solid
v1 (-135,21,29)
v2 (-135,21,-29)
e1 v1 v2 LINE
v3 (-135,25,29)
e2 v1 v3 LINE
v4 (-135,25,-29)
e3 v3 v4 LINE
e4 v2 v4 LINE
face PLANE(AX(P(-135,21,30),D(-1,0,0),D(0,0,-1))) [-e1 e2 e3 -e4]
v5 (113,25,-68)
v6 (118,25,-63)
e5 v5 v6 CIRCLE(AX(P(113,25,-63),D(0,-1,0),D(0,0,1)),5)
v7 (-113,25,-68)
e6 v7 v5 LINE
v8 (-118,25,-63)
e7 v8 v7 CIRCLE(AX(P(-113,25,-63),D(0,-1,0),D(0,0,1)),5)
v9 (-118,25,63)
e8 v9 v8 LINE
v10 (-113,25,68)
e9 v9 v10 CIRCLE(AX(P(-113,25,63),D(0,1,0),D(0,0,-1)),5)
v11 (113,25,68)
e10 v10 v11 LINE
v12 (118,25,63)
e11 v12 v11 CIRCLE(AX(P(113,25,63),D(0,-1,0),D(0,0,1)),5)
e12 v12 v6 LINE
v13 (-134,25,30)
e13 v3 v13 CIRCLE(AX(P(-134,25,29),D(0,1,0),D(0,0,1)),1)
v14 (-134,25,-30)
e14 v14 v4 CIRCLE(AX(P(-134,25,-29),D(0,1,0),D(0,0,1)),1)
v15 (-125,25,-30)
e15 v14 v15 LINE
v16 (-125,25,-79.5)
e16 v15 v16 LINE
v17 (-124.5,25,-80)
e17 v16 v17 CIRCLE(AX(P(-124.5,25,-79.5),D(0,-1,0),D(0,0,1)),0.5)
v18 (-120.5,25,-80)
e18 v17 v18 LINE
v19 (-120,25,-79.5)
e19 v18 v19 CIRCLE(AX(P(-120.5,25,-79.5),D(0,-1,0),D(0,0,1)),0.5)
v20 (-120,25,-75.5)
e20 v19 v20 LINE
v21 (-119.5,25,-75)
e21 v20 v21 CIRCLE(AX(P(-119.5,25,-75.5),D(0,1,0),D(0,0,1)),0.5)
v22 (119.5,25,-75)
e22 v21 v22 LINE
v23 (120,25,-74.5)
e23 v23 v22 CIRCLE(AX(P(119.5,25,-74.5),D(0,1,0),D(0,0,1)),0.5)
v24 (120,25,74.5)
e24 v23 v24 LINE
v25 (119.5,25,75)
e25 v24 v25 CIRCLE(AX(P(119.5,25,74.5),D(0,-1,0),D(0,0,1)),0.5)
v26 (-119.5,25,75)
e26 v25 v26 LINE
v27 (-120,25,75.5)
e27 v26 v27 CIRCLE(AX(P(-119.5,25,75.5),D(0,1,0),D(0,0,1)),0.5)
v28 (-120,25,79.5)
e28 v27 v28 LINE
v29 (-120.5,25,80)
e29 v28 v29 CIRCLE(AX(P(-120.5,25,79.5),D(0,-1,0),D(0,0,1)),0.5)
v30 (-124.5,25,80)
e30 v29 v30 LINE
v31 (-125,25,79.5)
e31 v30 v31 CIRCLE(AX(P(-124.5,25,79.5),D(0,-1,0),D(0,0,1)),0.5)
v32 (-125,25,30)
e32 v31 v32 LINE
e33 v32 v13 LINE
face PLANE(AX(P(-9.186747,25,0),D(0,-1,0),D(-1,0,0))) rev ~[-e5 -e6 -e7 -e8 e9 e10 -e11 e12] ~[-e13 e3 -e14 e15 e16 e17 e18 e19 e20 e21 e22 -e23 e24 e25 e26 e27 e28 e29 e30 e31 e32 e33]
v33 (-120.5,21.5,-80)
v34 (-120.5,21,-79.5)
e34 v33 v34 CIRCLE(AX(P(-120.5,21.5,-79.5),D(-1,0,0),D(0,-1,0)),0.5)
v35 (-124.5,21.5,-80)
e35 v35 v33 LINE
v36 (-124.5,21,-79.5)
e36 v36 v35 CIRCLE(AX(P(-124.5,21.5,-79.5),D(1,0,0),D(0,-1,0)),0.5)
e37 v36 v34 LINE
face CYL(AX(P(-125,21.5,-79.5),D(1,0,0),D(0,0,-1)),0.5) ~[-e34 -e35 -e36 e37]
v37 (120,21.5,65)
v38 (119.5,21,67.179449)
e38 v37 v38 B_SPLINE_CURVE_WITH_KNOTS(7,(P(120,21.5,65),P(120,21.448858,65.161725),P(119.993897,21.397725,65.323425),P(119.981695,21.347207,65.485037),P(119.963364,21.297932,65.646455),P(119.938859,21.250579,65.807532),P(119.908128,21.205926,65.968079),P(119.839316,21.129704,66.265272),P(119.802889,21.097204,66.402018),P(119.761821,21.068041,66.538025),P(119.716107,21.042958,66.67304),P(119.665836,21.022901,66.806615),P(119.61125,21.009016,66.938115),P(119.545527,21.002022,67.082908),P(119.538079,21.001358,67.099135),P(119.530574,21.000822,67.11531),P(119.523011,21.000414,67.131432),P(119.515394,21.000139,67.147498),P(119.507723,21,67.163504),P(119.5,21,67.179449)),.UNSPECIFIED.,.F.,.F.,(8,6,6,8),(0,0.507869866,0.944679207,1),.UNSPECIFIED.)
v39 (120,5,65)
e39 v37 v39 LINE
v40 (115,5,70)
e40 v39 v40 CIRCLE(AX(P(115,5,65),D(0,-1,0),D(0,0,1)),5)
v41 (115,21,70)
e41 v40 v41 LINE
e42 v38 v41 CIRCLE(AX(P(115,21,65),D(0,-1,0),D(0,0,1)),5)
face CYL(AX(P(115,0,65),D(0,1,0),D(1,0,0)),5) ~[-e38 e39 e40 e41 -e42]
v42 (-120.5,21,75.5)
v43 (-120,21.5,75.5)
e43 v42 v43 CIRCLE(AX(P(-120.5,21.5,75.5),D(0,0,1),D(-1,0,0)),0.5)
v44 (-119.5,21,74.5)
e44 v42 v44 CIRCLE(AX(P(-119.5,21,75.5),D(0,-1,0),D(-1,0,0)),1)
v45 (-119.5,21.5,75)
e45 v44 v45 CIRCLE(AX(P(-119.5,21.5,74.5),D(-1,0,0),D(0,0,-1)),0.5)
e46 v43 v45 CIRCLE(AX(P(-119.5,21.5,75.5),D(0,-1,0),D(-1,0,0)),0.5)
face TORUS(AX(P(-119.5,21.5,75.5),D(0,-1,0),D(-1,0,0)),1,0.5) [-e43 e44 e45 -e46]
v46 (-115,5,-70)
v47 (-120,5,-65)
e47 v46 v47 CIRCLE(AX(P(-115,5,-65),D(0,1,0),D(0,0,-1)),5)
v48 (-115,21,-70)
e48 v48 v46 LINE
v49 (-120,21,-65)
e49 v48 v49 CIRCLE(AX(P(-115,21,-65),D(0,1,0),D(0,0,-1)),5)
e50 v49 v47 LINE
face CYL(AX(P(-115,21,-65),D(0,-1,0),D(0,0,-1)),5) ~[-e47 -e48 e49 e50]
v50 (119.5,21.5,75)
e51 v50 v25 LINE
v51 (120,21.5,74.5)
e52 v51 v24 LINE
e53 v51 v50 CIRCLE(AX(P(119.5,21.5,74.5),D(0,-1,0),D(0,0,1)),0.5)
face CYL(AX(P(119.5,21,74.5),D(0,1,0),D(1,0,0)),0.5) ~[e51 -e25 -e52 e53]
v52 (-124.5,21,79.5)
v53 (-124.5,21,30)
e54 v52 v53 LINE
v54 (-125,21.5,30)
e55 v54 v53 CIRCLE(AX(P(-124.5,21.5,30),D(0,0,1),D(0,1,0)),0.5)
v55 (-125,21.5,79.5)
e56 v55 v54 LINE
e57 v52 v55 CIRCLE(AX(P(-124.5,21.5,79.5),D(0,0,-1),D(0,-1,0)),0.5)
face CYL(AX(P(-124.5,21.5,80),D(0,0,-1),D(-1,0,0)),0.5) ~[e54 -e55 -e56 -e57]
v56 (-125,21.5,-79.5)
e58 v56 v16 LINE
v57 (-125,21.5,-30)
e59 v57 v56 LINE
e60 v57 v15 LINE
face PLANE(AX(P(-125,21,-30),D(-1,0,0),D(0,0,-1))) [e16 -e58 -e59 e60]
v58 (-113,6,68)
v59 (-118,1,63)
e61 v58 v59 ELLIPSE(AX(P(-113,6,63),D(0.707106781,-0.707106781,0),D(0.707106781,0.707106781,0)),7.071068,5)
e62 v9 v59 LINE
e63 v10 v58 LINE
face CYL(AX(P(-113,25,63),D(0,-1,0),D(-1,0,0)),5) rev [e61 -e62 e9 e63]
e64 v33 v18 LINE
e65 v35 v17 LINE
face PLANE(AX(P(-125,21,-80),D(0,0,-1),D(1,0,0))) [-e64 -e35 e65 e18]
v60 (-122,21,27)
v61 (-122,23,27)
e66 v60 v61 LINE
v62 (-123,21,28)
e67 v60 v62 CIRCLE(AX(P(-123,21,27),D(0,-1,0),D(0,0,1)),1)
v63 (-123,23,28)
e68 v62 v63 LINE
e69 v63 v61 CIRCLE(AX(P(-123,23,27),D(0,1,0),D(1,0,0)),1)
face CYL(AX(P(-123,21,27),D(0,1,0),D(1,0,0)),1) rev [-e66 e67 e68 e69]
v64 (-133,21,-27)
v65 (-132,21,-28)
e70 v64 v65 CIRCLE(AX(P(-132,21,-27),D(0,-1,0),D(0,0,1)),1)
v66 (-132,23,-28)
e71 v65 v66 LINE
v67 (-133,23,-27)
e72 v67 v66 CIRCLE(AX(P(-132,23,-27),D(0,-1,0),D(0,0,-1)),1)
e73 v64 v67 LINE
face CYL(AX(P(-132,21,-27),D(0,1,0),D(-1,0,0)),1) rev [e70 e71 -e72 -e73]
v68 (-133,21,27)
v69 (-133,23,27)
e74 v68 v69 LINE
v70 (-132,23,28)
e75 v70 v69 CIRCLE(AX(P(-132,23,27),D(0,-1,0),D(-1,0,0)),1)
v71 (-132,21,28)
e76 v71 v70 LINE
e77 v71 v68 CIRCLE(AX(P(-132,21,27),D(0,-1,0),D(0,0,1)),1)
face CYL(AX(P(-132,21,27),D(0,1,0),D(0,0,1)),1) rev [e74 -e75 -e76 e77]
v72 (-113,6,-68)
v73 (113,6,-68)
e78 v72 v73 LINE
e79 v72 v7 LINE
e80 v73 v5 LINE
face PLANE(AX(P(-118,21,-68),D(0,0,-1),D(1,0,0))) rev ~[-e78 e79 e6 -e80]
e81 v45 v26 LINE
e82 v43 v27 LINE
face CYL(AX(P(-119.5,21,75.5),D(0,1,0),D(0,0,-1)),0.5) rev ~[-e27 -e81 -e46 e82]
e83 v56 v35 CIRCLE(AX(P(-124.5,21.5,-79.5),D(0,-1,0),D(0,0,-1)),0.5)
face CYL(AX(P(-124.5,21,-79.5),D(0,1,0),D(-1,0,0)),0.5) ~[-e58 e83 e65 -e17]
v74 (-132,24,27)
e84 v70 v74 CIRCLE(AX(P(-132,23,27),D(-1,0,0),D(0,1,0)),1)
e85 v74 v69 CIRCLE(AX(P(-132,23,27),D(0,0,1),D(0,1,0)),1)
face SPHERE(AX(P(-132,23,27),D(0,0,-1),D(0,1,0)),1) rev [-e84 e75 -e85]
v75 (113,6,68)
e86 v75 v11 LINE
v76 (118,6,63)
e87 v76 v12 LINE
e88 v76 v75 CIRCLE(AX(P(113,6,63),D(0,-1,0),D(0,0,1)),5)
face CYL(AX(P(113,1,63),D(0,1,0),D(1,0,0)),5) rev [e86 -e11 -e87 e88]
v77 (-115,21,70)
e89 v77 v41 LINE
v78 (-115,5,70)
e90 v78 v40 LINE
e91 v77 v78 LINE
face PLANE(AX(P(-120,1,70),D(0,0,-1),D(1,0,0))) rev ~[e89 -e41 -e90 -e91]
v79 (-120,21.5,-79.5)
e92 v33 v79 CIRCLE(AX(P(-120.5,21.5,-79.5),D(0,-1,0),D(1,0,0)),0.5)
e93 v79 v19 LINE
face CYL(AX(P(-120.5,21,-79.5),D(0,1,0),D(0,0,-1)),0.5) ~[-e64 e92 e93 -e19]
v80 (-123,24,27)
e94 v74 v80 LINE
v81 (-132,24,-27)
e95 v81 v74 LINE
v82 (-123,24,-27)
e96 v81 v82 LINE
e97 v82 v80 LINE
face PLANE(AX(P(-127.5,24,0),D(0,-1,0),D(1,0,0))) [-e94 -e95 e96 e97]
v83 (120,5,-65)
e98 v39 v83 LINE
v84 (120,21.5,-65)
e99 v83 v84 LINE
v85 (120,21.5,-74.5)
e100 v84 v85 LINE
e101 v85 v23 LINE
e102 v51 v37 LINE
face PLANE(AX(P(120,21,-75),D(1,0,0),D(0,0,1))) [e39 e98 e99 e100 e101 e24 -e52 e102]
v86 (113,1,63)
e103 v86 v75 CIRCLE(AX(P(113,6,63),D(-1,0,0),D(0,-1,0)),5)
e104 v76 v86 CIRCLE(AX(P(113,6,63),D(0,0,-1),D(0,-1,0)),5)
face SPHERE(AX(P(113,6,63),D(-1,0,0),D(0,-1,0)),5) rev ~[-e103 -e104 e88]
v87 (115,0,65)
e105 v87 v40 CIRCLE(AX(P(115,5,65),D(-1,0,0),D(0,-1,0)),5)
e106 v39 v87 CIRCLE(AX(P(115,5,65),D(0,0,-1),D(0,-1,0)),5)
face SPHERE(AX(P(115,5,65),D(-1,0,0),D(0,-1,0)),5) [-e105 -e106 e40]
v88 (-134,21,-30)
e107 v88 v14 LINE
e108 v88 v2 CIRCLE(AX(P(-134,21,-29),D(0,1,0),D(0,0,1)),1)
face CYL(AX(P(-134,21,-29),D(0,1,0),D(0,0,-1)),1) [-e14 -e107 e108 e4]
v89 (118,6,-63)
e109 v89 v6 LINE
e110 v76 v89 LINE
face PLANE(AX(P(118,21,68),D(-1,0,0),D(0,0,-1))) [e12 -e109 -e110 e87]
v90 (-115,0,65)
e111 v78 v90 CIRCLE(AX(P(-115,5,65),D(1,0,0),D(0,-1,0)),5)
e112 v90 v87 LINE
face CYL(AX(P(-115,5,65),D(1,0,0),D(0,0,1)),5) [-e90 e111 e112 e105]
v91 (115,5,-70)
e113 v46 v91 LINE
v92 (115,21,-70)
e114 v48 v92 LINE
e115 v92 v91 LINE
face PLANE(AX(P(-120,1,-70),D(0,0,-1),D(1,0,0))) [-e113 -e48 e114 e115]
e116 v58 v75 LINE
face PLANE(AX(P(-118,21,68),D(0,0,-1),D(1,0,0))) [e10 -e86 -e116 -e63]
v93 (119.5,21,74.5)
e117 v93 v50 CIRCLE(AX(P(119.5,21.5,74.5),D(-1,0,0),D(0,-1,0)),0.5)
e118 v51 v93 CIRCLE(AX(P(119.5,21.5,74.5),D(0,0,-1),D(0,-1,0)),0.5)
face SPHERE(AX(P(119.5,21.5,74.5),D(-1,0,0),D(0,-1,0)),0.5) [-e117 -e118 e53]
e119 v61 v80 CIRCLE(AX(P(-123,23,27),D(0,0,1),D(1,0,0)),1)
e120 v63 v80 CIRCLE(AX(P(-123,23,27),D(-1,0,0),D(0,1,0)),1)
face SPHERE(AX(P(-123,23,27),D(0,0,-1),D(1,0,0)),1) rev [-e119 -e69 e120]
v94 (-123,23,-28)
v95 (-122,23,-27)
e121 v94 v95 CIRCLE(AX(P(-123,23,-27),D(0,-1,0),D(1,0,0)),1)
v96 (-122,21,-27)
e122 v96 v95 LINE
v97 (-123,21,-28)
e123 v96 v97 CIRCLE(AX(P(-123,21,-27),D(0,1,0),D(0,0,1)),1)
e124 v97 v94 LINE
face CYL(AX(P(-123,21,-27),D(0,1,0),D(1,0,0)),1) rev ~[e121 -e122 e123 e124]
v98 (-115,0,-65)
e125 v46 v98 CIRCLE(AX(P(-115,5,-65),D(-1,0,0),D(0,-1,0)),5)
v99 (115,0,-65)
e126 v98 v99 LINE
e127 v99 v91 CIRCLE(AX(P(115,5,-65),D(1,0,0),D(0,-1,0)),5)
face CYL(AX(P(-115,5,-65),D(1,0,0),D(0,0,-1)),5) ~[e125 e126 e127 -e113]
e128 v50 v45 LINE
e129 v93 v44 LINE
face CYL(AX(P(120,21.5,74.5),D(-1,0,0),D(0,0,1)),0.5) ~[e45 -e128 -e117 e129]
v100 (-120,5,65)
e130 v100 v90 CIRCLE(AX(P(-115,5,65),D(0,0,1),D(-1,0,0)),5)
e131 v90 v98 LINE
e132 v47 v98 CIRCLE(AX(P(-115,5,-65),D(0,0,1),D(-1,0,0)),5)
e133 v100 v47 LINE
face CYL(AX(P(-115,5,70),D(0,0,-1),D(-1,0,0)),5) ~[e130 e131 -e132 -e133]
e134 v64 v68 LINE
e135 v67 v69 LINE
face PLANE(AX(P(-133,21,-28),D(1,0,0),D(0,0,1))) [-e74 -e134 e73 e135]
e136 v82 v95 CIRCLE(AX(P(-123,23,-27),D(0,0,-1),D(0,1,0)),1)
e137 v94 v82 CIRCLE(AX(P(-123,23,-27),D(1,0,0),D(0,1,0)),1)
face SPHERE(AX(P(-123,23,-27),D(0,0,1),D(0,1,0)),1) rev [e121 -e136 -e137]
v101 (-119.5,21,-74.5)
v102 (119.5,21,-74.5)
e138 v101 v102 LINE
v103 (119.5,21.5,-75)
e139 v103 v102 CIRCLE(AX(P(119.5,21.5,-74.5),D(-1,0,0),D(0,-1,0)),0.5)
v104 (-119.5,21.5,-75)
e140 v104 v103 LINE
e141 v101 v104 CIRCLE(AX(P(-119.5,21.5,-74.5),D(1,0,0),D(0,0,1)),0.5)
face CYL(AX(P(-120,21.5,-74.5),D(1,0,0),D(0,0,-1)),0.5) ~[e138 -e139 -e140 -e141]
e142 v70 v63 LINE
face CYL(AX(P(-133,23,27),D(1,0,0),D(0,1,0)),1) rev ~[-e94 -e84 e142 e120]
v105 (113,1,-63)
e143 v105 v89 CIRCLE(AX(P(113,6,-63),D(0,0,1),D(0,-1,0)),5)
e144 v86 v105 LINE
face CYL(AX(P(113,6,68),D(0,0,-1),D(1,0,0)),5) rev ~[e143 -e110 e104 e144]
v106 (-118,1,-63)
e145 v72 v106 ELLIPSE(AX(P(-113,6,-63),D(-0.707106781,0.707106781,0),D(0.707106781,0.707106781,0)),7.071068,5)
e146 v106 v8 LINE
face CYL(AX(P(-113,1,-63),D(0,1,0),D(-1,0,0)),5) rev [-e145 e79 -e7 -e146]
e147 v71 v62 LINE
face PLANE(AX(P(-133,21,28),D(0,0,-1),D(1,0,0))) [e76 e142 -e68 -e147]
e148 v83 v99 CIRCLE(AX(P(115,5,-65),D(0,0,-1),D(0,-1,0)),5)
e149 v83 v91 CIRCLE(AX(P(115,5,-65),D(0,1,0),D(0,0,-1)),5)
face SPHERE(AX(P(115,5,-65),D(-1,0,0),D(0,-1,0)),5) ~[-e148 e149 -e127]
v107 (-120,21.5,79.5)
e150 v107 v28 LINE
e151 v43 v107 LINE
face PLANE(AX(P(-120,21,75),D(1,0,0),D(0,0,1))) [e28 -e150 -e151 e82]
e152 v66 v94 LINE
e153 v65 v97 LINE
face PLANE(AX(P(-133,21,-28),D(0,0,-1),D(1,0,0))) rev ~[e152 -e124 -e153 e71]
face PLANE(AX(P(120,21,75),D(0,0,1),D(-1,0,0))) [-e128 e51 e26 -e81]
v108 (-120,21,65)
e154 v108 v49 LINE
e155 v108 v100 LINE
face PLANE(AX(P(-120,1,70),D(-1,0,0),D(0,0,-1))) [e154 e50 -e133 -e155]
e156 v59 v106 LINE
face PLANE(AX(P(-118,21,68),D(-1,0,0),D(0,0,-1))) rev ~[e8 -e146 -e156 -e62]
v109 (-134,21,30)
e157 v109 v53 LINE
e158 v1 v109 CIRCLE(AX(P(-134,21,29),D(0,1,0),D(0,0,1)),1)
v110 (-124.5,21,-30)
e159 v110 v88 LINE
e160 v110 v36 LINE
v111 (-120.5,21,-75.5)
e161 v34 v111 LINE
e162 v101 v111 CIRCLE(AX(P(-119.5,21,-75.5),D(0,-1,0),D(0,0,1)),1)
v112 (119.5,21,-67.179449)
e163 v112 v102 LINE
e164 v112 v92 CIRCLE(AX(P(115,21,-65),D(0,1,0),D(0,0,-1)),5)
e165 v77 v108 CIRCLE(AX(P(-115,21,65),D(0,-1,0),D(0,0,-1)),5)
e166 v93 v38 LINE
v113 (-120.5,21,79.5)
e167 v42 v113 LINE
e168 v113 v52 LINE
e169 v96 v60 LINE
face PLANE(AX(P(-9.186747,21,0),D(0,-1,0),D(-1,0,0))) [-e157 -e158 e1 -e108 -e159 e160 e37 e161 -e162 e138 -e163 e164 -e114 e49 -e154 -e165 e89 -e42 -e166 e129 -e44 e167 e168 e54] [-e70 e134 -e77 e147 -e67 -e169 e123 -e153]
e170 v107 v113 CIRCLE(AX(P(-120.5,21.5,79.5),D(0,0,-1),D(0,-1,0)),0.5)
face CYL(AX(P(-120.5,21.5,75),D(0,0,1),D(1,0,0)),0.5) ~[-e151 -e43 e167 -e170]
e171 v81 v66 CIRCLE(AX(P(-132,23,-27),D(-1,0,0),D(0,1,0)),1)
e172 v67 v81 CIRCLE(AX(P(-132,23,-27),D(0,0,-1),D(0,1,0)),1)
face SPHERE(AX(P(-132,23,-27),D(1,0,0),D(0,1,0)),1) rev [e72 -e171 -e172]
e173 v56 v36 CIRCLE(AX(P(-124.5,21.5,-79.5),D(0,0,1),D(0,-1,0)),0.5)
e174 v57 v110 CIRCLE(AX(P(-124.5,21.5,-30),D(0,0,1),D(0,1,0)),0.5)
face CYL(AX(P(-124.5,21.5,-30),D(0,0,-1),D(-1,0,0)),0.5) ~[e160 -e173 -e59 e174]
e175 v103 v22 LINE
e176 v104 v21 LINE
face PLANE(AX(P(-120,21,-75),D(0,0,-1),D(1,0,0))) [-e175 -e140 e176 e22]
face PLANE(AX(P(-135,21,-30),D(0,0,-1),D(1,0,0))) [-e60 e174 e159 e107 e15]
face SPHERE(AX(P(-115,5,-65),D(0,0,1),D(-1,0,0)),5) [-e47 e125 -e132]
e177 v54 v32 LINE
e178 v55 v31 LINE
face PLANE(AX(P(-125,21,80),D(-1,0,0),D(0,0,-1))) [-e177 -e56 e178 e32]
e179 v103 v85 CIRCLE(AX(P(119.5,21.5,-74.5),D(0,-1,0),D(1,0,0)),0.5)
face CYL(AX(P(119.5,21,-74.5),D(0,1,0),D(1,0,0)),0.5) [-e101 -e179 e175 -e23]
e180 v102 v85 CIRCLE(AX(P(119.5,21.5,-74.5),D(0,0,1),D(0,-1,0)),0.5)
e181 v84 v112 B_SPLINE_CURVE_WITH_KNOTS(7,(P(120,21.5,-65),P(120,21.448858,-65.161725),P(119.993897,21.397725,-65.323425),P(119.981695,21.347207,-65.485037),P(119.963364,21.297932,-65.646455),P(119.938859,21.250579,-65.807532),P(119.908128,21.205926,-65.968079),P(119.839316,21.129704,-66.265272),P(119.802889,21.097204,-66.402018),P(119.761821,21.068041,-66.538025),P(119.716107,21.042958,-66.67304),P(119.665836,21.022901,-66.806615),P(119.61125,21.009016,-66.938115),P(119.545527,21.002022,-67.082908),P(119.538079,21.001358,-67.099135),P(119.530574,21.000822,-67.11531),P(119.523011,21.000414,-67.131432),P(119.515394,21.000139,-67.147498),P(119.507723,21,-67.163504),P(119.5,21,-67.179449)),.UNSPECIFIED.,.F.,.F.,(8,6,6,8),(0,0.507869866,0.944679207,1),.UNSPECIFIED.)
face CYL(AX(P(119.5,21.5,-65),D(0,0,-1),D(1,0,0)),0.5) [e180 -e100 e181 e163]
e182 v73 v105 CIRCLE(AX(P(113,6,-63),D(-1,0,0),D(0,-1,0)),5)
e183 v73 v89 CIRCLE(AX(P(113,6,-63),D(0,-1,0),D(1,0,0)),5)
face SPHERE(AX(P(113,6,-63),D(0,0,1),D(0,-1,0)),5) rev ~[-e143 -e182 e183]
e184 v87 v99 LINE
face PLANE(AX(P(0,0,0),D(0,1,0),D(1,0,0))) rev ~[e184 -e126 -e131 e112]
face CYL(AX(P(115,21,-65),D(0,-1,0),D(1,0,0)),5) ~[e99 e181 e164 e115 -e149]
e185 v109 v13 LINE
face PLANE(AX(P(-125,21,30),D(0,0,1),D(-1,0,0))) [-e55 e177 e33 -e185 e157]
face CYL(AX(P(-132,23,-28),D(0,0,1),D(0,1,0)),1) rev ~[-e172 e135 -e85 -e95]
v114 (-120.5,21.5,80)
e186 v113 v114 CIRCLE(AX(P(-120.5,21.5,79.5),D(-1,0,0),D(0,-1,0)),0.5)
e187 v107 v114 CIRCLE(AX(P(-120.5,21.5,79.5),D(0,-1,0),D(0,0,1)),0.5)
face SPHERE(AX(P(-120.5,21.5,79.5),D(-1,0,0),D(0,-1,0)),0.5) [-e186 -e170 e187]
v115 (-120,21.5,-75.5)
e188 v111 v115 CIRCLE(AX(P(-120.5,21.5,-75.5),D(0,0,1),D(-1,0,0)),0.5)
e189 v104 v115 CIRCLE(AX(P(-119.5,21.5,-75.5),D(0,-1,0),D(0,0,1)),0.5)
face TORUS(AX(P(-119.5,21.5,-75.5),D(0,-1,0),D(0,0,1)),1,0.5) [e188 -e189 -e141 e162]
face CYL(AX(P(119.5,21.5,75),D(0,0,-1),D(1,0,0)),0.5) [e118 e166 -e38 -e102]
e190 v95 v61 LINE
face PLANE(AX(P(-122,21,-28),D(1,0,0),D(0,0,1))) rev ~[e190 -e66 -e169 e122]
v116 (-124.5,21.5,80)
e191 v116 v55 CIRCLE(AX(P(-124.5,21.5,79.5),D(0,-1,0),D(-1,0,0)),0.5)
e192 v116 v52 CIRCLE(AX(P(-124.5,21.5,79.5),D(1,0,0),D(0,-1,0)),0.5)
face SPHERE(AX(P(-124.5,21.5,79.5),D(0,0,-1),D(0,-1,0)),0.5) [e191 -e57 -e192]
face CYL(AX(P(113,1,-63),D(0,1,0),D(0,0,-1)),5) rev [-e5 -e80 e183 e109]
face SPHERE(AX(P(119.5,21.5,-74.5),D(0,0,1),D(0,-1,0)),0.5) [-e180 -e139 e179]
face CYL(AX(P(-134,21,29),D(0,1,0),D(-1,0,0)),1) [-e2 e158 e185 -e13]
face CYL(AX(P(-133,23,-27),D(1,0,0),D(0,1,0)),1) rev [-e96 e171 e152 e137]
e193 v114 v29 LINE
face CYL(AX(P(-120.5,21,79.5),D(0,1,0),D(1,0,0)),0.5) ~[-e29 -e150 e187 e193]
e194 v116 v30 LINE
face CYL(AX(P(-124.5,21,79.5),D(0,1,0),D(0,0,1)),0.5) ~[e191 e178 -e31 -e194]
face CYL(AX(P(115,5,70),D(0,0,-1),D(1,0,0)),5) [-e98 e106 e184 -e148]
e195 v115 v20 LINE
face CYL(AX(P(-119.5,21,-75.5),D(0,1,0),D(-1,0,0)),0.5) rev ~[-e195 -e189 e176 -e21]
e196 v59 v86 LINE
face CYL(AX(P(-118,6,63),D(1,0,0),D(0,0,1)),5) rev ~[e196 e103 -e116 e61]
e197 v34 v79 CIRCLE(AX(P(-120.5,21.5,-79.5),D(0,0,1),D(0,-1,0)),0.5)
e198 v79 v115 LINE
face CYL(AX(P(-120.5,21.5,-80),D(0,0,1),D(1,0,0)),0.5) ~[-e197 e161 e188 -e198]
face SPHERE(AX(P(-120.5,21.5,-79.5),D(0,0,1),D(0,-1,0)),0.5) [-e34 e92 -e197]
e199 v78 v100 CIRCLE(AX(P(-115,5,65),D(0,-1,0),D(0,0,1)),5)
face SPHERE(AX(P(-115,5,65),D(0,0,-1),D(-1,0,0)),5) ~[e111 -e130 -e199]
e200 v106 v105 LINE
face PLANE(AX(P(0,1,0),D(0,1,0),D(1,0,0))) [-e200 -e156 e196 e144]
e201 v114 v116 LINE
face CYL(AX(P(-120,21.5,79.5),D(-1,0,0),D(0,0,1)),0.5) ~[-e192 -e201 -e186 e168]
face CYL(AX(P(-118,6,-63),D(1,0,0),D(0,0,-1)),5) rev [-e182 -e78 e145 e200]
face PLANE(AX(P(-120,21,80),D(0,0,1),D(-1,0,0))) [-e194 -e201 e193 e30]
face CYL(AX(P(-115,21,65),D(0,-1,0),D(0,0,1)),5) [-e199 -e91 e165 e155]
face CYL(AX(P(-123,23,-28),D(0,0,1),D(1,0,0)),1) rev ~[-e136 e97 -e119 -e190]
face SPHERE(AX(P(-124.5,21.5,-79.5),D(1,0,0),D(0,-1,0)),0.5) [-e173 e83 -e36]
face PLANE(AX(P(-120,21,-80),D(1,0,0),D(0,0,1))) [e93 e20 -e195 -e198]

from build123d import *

# Parameters (mm, degrees)
SKETCH2_W           = 240
SKETCH2_H           = 140
BOSS_EXTRUDE1_DEPTH = 1
SKETCH3_W           = 240
SKETCH3_H           = 140
SKETCH3_W_2         = 236
SKETCH3_H_2         = 136
BOSS_EXTRUDE2_DEPTH = 20
SKETCH4_W           = 236
SKETCH4_H           = 136
BOSS_EXTRUDE3_DEPTH = 4
SKETCH6_W           = 11
SKETCH6_H           = 56
CUT_EXTRUDE2_DEPTH  = 3
FILLET1_R           = 5
FILLET2_R           = 5
FILLET3_R           = 0.5
FILLET4_R           = 1


with BuildPart() as part:
    # Sketch2 → Boss-Extrude1 (new body)
    with BuildSketch(Plane(origin=(0, 0, 0), x_dir=(1, 0, 0), z_dir=(0, 1, 0))):
        Rectangle(SKETCH2_W, SKETCH2_H)
    extrude(amount=BOSS_EXTRUDE1_DEPTH)

    # Sketch3 → Boss-Extrude2 (add)
    with BuildSketch(Plane(origin=(0, 1, 0), x_dir=(1, 0, 0), z_dir=(0, 1, 0))):
        Rectangle(SKETCH3_W, SKETCH3_H)
        Rectangle(SKETCH3_W_2, SKETCH3_H_2, mode=Mode.SUBTRACT)
    extrude(amount=BOSS_EXTRUDE2_DEPTH)

    # Sketch4 → Boss-Extrude3 (add)
    with BuildSketch(Plane(origin=(0, 21, 0), x_dir=(1, 0, 0), z_dir=(0, 1, 0))):
        Polygon((-125, 80), (-120, 80), (-120, 75), (120, 75), (120, -75), (-120, -75), (-120, -80), (-125, -80), (-125, -30), (-135, -30), (-135, 30), (-125, 30), align=None)
        Rectangle(SKETCH4_W, SKETCH4_H, mode=Mode.SUBTRACT)
    extrude(amount=BOSS_EXTRUDE3_DEPTH)

    # Sketch6 → Cut-Extrude2 (cut)
    with BuildSketch(Plane.XZ.offset(-21)):
        with Locations((-127.5, 0)):
            Rectangle(SKETCH6_W, SKETCH6_H)
    extrude(amount=-CUT_EXTRUDE2_DEPTH, mode=Mode.SUBTRACT)

    # Fillet1
    fillet1_edges = [part.edges().sort_by_distance(p)[0] for p in [
        (0, 1, 68),
        (118, 1, 0),
        (0, 1, -68),
        (-118, 13, 68),
        (118, 13, 68),
        (118, 13, -68),
        (-118, 13, -68),
        (-120, 0, 0),
    ]]
    fillet(fillet1_edges, radius=FILLET1_R)

    # Fillet2
    fillet2_edges = [part.edges().sort_by_distance(p)[0] for p in [
        (2.5, 0, 70),
        (-118.535533906, 1.464466094, 70),
        (-118.535533906, 1.464466094, -70),
        (2.5, 0, -70),
        (120, 0, 0),
        (120, 10.5, 70),
        (-120, 13, 70),
        (-120, 13, -70),
        (120, 10.5, -70),
    ]]
    fillet(fillet2_edges, radius=FILLET2_R)

    # Fillet3
    fillet3_edges = [part.edges().sort_by_distance(p)[0] for p in [
        (-125, 21, 55),
        (-122.5, 21, 80),
        (-125, 23, 80),
        (-120, 21, 77.5),
        (-120, 23, 80),
        (0, 21, 75),
        (-120, 23, 75),
        (120, 21, 67.5),
        (120, 21, -67.5),
        (120, 23, 75),
        (0, 21, -75),
        (120, 23, -75),
        (-120, 21, -77.5),
        (-120, 23, -75),
        (-122.5, 21, -80),
        (-120, 23, -80),
        (-125, 21, -55),
        (-125, 23, -80),
    ]]
    fillet(fillet3_edges, radius=FILLET3_R)

    # Fillet4
    fillet4_edges = [part.edges().sort_by_distance(p)[0] for p in [
        (-135, 23, -30),
        (-135, 23, 30),
        (-122, 24, 0),
        (-122, 22.5, 28),
        (-127.5, 24, -28),
        (-122, 22.5, -28),
        (-133, 24, 0),
        (-133, 22.5, -28),
        (-127.5, 24, 28),
        (-133, 22.5, 28),
    ]]
    fillet(fillet4_edges, radius=FILLET4_R)


solid = part.part
